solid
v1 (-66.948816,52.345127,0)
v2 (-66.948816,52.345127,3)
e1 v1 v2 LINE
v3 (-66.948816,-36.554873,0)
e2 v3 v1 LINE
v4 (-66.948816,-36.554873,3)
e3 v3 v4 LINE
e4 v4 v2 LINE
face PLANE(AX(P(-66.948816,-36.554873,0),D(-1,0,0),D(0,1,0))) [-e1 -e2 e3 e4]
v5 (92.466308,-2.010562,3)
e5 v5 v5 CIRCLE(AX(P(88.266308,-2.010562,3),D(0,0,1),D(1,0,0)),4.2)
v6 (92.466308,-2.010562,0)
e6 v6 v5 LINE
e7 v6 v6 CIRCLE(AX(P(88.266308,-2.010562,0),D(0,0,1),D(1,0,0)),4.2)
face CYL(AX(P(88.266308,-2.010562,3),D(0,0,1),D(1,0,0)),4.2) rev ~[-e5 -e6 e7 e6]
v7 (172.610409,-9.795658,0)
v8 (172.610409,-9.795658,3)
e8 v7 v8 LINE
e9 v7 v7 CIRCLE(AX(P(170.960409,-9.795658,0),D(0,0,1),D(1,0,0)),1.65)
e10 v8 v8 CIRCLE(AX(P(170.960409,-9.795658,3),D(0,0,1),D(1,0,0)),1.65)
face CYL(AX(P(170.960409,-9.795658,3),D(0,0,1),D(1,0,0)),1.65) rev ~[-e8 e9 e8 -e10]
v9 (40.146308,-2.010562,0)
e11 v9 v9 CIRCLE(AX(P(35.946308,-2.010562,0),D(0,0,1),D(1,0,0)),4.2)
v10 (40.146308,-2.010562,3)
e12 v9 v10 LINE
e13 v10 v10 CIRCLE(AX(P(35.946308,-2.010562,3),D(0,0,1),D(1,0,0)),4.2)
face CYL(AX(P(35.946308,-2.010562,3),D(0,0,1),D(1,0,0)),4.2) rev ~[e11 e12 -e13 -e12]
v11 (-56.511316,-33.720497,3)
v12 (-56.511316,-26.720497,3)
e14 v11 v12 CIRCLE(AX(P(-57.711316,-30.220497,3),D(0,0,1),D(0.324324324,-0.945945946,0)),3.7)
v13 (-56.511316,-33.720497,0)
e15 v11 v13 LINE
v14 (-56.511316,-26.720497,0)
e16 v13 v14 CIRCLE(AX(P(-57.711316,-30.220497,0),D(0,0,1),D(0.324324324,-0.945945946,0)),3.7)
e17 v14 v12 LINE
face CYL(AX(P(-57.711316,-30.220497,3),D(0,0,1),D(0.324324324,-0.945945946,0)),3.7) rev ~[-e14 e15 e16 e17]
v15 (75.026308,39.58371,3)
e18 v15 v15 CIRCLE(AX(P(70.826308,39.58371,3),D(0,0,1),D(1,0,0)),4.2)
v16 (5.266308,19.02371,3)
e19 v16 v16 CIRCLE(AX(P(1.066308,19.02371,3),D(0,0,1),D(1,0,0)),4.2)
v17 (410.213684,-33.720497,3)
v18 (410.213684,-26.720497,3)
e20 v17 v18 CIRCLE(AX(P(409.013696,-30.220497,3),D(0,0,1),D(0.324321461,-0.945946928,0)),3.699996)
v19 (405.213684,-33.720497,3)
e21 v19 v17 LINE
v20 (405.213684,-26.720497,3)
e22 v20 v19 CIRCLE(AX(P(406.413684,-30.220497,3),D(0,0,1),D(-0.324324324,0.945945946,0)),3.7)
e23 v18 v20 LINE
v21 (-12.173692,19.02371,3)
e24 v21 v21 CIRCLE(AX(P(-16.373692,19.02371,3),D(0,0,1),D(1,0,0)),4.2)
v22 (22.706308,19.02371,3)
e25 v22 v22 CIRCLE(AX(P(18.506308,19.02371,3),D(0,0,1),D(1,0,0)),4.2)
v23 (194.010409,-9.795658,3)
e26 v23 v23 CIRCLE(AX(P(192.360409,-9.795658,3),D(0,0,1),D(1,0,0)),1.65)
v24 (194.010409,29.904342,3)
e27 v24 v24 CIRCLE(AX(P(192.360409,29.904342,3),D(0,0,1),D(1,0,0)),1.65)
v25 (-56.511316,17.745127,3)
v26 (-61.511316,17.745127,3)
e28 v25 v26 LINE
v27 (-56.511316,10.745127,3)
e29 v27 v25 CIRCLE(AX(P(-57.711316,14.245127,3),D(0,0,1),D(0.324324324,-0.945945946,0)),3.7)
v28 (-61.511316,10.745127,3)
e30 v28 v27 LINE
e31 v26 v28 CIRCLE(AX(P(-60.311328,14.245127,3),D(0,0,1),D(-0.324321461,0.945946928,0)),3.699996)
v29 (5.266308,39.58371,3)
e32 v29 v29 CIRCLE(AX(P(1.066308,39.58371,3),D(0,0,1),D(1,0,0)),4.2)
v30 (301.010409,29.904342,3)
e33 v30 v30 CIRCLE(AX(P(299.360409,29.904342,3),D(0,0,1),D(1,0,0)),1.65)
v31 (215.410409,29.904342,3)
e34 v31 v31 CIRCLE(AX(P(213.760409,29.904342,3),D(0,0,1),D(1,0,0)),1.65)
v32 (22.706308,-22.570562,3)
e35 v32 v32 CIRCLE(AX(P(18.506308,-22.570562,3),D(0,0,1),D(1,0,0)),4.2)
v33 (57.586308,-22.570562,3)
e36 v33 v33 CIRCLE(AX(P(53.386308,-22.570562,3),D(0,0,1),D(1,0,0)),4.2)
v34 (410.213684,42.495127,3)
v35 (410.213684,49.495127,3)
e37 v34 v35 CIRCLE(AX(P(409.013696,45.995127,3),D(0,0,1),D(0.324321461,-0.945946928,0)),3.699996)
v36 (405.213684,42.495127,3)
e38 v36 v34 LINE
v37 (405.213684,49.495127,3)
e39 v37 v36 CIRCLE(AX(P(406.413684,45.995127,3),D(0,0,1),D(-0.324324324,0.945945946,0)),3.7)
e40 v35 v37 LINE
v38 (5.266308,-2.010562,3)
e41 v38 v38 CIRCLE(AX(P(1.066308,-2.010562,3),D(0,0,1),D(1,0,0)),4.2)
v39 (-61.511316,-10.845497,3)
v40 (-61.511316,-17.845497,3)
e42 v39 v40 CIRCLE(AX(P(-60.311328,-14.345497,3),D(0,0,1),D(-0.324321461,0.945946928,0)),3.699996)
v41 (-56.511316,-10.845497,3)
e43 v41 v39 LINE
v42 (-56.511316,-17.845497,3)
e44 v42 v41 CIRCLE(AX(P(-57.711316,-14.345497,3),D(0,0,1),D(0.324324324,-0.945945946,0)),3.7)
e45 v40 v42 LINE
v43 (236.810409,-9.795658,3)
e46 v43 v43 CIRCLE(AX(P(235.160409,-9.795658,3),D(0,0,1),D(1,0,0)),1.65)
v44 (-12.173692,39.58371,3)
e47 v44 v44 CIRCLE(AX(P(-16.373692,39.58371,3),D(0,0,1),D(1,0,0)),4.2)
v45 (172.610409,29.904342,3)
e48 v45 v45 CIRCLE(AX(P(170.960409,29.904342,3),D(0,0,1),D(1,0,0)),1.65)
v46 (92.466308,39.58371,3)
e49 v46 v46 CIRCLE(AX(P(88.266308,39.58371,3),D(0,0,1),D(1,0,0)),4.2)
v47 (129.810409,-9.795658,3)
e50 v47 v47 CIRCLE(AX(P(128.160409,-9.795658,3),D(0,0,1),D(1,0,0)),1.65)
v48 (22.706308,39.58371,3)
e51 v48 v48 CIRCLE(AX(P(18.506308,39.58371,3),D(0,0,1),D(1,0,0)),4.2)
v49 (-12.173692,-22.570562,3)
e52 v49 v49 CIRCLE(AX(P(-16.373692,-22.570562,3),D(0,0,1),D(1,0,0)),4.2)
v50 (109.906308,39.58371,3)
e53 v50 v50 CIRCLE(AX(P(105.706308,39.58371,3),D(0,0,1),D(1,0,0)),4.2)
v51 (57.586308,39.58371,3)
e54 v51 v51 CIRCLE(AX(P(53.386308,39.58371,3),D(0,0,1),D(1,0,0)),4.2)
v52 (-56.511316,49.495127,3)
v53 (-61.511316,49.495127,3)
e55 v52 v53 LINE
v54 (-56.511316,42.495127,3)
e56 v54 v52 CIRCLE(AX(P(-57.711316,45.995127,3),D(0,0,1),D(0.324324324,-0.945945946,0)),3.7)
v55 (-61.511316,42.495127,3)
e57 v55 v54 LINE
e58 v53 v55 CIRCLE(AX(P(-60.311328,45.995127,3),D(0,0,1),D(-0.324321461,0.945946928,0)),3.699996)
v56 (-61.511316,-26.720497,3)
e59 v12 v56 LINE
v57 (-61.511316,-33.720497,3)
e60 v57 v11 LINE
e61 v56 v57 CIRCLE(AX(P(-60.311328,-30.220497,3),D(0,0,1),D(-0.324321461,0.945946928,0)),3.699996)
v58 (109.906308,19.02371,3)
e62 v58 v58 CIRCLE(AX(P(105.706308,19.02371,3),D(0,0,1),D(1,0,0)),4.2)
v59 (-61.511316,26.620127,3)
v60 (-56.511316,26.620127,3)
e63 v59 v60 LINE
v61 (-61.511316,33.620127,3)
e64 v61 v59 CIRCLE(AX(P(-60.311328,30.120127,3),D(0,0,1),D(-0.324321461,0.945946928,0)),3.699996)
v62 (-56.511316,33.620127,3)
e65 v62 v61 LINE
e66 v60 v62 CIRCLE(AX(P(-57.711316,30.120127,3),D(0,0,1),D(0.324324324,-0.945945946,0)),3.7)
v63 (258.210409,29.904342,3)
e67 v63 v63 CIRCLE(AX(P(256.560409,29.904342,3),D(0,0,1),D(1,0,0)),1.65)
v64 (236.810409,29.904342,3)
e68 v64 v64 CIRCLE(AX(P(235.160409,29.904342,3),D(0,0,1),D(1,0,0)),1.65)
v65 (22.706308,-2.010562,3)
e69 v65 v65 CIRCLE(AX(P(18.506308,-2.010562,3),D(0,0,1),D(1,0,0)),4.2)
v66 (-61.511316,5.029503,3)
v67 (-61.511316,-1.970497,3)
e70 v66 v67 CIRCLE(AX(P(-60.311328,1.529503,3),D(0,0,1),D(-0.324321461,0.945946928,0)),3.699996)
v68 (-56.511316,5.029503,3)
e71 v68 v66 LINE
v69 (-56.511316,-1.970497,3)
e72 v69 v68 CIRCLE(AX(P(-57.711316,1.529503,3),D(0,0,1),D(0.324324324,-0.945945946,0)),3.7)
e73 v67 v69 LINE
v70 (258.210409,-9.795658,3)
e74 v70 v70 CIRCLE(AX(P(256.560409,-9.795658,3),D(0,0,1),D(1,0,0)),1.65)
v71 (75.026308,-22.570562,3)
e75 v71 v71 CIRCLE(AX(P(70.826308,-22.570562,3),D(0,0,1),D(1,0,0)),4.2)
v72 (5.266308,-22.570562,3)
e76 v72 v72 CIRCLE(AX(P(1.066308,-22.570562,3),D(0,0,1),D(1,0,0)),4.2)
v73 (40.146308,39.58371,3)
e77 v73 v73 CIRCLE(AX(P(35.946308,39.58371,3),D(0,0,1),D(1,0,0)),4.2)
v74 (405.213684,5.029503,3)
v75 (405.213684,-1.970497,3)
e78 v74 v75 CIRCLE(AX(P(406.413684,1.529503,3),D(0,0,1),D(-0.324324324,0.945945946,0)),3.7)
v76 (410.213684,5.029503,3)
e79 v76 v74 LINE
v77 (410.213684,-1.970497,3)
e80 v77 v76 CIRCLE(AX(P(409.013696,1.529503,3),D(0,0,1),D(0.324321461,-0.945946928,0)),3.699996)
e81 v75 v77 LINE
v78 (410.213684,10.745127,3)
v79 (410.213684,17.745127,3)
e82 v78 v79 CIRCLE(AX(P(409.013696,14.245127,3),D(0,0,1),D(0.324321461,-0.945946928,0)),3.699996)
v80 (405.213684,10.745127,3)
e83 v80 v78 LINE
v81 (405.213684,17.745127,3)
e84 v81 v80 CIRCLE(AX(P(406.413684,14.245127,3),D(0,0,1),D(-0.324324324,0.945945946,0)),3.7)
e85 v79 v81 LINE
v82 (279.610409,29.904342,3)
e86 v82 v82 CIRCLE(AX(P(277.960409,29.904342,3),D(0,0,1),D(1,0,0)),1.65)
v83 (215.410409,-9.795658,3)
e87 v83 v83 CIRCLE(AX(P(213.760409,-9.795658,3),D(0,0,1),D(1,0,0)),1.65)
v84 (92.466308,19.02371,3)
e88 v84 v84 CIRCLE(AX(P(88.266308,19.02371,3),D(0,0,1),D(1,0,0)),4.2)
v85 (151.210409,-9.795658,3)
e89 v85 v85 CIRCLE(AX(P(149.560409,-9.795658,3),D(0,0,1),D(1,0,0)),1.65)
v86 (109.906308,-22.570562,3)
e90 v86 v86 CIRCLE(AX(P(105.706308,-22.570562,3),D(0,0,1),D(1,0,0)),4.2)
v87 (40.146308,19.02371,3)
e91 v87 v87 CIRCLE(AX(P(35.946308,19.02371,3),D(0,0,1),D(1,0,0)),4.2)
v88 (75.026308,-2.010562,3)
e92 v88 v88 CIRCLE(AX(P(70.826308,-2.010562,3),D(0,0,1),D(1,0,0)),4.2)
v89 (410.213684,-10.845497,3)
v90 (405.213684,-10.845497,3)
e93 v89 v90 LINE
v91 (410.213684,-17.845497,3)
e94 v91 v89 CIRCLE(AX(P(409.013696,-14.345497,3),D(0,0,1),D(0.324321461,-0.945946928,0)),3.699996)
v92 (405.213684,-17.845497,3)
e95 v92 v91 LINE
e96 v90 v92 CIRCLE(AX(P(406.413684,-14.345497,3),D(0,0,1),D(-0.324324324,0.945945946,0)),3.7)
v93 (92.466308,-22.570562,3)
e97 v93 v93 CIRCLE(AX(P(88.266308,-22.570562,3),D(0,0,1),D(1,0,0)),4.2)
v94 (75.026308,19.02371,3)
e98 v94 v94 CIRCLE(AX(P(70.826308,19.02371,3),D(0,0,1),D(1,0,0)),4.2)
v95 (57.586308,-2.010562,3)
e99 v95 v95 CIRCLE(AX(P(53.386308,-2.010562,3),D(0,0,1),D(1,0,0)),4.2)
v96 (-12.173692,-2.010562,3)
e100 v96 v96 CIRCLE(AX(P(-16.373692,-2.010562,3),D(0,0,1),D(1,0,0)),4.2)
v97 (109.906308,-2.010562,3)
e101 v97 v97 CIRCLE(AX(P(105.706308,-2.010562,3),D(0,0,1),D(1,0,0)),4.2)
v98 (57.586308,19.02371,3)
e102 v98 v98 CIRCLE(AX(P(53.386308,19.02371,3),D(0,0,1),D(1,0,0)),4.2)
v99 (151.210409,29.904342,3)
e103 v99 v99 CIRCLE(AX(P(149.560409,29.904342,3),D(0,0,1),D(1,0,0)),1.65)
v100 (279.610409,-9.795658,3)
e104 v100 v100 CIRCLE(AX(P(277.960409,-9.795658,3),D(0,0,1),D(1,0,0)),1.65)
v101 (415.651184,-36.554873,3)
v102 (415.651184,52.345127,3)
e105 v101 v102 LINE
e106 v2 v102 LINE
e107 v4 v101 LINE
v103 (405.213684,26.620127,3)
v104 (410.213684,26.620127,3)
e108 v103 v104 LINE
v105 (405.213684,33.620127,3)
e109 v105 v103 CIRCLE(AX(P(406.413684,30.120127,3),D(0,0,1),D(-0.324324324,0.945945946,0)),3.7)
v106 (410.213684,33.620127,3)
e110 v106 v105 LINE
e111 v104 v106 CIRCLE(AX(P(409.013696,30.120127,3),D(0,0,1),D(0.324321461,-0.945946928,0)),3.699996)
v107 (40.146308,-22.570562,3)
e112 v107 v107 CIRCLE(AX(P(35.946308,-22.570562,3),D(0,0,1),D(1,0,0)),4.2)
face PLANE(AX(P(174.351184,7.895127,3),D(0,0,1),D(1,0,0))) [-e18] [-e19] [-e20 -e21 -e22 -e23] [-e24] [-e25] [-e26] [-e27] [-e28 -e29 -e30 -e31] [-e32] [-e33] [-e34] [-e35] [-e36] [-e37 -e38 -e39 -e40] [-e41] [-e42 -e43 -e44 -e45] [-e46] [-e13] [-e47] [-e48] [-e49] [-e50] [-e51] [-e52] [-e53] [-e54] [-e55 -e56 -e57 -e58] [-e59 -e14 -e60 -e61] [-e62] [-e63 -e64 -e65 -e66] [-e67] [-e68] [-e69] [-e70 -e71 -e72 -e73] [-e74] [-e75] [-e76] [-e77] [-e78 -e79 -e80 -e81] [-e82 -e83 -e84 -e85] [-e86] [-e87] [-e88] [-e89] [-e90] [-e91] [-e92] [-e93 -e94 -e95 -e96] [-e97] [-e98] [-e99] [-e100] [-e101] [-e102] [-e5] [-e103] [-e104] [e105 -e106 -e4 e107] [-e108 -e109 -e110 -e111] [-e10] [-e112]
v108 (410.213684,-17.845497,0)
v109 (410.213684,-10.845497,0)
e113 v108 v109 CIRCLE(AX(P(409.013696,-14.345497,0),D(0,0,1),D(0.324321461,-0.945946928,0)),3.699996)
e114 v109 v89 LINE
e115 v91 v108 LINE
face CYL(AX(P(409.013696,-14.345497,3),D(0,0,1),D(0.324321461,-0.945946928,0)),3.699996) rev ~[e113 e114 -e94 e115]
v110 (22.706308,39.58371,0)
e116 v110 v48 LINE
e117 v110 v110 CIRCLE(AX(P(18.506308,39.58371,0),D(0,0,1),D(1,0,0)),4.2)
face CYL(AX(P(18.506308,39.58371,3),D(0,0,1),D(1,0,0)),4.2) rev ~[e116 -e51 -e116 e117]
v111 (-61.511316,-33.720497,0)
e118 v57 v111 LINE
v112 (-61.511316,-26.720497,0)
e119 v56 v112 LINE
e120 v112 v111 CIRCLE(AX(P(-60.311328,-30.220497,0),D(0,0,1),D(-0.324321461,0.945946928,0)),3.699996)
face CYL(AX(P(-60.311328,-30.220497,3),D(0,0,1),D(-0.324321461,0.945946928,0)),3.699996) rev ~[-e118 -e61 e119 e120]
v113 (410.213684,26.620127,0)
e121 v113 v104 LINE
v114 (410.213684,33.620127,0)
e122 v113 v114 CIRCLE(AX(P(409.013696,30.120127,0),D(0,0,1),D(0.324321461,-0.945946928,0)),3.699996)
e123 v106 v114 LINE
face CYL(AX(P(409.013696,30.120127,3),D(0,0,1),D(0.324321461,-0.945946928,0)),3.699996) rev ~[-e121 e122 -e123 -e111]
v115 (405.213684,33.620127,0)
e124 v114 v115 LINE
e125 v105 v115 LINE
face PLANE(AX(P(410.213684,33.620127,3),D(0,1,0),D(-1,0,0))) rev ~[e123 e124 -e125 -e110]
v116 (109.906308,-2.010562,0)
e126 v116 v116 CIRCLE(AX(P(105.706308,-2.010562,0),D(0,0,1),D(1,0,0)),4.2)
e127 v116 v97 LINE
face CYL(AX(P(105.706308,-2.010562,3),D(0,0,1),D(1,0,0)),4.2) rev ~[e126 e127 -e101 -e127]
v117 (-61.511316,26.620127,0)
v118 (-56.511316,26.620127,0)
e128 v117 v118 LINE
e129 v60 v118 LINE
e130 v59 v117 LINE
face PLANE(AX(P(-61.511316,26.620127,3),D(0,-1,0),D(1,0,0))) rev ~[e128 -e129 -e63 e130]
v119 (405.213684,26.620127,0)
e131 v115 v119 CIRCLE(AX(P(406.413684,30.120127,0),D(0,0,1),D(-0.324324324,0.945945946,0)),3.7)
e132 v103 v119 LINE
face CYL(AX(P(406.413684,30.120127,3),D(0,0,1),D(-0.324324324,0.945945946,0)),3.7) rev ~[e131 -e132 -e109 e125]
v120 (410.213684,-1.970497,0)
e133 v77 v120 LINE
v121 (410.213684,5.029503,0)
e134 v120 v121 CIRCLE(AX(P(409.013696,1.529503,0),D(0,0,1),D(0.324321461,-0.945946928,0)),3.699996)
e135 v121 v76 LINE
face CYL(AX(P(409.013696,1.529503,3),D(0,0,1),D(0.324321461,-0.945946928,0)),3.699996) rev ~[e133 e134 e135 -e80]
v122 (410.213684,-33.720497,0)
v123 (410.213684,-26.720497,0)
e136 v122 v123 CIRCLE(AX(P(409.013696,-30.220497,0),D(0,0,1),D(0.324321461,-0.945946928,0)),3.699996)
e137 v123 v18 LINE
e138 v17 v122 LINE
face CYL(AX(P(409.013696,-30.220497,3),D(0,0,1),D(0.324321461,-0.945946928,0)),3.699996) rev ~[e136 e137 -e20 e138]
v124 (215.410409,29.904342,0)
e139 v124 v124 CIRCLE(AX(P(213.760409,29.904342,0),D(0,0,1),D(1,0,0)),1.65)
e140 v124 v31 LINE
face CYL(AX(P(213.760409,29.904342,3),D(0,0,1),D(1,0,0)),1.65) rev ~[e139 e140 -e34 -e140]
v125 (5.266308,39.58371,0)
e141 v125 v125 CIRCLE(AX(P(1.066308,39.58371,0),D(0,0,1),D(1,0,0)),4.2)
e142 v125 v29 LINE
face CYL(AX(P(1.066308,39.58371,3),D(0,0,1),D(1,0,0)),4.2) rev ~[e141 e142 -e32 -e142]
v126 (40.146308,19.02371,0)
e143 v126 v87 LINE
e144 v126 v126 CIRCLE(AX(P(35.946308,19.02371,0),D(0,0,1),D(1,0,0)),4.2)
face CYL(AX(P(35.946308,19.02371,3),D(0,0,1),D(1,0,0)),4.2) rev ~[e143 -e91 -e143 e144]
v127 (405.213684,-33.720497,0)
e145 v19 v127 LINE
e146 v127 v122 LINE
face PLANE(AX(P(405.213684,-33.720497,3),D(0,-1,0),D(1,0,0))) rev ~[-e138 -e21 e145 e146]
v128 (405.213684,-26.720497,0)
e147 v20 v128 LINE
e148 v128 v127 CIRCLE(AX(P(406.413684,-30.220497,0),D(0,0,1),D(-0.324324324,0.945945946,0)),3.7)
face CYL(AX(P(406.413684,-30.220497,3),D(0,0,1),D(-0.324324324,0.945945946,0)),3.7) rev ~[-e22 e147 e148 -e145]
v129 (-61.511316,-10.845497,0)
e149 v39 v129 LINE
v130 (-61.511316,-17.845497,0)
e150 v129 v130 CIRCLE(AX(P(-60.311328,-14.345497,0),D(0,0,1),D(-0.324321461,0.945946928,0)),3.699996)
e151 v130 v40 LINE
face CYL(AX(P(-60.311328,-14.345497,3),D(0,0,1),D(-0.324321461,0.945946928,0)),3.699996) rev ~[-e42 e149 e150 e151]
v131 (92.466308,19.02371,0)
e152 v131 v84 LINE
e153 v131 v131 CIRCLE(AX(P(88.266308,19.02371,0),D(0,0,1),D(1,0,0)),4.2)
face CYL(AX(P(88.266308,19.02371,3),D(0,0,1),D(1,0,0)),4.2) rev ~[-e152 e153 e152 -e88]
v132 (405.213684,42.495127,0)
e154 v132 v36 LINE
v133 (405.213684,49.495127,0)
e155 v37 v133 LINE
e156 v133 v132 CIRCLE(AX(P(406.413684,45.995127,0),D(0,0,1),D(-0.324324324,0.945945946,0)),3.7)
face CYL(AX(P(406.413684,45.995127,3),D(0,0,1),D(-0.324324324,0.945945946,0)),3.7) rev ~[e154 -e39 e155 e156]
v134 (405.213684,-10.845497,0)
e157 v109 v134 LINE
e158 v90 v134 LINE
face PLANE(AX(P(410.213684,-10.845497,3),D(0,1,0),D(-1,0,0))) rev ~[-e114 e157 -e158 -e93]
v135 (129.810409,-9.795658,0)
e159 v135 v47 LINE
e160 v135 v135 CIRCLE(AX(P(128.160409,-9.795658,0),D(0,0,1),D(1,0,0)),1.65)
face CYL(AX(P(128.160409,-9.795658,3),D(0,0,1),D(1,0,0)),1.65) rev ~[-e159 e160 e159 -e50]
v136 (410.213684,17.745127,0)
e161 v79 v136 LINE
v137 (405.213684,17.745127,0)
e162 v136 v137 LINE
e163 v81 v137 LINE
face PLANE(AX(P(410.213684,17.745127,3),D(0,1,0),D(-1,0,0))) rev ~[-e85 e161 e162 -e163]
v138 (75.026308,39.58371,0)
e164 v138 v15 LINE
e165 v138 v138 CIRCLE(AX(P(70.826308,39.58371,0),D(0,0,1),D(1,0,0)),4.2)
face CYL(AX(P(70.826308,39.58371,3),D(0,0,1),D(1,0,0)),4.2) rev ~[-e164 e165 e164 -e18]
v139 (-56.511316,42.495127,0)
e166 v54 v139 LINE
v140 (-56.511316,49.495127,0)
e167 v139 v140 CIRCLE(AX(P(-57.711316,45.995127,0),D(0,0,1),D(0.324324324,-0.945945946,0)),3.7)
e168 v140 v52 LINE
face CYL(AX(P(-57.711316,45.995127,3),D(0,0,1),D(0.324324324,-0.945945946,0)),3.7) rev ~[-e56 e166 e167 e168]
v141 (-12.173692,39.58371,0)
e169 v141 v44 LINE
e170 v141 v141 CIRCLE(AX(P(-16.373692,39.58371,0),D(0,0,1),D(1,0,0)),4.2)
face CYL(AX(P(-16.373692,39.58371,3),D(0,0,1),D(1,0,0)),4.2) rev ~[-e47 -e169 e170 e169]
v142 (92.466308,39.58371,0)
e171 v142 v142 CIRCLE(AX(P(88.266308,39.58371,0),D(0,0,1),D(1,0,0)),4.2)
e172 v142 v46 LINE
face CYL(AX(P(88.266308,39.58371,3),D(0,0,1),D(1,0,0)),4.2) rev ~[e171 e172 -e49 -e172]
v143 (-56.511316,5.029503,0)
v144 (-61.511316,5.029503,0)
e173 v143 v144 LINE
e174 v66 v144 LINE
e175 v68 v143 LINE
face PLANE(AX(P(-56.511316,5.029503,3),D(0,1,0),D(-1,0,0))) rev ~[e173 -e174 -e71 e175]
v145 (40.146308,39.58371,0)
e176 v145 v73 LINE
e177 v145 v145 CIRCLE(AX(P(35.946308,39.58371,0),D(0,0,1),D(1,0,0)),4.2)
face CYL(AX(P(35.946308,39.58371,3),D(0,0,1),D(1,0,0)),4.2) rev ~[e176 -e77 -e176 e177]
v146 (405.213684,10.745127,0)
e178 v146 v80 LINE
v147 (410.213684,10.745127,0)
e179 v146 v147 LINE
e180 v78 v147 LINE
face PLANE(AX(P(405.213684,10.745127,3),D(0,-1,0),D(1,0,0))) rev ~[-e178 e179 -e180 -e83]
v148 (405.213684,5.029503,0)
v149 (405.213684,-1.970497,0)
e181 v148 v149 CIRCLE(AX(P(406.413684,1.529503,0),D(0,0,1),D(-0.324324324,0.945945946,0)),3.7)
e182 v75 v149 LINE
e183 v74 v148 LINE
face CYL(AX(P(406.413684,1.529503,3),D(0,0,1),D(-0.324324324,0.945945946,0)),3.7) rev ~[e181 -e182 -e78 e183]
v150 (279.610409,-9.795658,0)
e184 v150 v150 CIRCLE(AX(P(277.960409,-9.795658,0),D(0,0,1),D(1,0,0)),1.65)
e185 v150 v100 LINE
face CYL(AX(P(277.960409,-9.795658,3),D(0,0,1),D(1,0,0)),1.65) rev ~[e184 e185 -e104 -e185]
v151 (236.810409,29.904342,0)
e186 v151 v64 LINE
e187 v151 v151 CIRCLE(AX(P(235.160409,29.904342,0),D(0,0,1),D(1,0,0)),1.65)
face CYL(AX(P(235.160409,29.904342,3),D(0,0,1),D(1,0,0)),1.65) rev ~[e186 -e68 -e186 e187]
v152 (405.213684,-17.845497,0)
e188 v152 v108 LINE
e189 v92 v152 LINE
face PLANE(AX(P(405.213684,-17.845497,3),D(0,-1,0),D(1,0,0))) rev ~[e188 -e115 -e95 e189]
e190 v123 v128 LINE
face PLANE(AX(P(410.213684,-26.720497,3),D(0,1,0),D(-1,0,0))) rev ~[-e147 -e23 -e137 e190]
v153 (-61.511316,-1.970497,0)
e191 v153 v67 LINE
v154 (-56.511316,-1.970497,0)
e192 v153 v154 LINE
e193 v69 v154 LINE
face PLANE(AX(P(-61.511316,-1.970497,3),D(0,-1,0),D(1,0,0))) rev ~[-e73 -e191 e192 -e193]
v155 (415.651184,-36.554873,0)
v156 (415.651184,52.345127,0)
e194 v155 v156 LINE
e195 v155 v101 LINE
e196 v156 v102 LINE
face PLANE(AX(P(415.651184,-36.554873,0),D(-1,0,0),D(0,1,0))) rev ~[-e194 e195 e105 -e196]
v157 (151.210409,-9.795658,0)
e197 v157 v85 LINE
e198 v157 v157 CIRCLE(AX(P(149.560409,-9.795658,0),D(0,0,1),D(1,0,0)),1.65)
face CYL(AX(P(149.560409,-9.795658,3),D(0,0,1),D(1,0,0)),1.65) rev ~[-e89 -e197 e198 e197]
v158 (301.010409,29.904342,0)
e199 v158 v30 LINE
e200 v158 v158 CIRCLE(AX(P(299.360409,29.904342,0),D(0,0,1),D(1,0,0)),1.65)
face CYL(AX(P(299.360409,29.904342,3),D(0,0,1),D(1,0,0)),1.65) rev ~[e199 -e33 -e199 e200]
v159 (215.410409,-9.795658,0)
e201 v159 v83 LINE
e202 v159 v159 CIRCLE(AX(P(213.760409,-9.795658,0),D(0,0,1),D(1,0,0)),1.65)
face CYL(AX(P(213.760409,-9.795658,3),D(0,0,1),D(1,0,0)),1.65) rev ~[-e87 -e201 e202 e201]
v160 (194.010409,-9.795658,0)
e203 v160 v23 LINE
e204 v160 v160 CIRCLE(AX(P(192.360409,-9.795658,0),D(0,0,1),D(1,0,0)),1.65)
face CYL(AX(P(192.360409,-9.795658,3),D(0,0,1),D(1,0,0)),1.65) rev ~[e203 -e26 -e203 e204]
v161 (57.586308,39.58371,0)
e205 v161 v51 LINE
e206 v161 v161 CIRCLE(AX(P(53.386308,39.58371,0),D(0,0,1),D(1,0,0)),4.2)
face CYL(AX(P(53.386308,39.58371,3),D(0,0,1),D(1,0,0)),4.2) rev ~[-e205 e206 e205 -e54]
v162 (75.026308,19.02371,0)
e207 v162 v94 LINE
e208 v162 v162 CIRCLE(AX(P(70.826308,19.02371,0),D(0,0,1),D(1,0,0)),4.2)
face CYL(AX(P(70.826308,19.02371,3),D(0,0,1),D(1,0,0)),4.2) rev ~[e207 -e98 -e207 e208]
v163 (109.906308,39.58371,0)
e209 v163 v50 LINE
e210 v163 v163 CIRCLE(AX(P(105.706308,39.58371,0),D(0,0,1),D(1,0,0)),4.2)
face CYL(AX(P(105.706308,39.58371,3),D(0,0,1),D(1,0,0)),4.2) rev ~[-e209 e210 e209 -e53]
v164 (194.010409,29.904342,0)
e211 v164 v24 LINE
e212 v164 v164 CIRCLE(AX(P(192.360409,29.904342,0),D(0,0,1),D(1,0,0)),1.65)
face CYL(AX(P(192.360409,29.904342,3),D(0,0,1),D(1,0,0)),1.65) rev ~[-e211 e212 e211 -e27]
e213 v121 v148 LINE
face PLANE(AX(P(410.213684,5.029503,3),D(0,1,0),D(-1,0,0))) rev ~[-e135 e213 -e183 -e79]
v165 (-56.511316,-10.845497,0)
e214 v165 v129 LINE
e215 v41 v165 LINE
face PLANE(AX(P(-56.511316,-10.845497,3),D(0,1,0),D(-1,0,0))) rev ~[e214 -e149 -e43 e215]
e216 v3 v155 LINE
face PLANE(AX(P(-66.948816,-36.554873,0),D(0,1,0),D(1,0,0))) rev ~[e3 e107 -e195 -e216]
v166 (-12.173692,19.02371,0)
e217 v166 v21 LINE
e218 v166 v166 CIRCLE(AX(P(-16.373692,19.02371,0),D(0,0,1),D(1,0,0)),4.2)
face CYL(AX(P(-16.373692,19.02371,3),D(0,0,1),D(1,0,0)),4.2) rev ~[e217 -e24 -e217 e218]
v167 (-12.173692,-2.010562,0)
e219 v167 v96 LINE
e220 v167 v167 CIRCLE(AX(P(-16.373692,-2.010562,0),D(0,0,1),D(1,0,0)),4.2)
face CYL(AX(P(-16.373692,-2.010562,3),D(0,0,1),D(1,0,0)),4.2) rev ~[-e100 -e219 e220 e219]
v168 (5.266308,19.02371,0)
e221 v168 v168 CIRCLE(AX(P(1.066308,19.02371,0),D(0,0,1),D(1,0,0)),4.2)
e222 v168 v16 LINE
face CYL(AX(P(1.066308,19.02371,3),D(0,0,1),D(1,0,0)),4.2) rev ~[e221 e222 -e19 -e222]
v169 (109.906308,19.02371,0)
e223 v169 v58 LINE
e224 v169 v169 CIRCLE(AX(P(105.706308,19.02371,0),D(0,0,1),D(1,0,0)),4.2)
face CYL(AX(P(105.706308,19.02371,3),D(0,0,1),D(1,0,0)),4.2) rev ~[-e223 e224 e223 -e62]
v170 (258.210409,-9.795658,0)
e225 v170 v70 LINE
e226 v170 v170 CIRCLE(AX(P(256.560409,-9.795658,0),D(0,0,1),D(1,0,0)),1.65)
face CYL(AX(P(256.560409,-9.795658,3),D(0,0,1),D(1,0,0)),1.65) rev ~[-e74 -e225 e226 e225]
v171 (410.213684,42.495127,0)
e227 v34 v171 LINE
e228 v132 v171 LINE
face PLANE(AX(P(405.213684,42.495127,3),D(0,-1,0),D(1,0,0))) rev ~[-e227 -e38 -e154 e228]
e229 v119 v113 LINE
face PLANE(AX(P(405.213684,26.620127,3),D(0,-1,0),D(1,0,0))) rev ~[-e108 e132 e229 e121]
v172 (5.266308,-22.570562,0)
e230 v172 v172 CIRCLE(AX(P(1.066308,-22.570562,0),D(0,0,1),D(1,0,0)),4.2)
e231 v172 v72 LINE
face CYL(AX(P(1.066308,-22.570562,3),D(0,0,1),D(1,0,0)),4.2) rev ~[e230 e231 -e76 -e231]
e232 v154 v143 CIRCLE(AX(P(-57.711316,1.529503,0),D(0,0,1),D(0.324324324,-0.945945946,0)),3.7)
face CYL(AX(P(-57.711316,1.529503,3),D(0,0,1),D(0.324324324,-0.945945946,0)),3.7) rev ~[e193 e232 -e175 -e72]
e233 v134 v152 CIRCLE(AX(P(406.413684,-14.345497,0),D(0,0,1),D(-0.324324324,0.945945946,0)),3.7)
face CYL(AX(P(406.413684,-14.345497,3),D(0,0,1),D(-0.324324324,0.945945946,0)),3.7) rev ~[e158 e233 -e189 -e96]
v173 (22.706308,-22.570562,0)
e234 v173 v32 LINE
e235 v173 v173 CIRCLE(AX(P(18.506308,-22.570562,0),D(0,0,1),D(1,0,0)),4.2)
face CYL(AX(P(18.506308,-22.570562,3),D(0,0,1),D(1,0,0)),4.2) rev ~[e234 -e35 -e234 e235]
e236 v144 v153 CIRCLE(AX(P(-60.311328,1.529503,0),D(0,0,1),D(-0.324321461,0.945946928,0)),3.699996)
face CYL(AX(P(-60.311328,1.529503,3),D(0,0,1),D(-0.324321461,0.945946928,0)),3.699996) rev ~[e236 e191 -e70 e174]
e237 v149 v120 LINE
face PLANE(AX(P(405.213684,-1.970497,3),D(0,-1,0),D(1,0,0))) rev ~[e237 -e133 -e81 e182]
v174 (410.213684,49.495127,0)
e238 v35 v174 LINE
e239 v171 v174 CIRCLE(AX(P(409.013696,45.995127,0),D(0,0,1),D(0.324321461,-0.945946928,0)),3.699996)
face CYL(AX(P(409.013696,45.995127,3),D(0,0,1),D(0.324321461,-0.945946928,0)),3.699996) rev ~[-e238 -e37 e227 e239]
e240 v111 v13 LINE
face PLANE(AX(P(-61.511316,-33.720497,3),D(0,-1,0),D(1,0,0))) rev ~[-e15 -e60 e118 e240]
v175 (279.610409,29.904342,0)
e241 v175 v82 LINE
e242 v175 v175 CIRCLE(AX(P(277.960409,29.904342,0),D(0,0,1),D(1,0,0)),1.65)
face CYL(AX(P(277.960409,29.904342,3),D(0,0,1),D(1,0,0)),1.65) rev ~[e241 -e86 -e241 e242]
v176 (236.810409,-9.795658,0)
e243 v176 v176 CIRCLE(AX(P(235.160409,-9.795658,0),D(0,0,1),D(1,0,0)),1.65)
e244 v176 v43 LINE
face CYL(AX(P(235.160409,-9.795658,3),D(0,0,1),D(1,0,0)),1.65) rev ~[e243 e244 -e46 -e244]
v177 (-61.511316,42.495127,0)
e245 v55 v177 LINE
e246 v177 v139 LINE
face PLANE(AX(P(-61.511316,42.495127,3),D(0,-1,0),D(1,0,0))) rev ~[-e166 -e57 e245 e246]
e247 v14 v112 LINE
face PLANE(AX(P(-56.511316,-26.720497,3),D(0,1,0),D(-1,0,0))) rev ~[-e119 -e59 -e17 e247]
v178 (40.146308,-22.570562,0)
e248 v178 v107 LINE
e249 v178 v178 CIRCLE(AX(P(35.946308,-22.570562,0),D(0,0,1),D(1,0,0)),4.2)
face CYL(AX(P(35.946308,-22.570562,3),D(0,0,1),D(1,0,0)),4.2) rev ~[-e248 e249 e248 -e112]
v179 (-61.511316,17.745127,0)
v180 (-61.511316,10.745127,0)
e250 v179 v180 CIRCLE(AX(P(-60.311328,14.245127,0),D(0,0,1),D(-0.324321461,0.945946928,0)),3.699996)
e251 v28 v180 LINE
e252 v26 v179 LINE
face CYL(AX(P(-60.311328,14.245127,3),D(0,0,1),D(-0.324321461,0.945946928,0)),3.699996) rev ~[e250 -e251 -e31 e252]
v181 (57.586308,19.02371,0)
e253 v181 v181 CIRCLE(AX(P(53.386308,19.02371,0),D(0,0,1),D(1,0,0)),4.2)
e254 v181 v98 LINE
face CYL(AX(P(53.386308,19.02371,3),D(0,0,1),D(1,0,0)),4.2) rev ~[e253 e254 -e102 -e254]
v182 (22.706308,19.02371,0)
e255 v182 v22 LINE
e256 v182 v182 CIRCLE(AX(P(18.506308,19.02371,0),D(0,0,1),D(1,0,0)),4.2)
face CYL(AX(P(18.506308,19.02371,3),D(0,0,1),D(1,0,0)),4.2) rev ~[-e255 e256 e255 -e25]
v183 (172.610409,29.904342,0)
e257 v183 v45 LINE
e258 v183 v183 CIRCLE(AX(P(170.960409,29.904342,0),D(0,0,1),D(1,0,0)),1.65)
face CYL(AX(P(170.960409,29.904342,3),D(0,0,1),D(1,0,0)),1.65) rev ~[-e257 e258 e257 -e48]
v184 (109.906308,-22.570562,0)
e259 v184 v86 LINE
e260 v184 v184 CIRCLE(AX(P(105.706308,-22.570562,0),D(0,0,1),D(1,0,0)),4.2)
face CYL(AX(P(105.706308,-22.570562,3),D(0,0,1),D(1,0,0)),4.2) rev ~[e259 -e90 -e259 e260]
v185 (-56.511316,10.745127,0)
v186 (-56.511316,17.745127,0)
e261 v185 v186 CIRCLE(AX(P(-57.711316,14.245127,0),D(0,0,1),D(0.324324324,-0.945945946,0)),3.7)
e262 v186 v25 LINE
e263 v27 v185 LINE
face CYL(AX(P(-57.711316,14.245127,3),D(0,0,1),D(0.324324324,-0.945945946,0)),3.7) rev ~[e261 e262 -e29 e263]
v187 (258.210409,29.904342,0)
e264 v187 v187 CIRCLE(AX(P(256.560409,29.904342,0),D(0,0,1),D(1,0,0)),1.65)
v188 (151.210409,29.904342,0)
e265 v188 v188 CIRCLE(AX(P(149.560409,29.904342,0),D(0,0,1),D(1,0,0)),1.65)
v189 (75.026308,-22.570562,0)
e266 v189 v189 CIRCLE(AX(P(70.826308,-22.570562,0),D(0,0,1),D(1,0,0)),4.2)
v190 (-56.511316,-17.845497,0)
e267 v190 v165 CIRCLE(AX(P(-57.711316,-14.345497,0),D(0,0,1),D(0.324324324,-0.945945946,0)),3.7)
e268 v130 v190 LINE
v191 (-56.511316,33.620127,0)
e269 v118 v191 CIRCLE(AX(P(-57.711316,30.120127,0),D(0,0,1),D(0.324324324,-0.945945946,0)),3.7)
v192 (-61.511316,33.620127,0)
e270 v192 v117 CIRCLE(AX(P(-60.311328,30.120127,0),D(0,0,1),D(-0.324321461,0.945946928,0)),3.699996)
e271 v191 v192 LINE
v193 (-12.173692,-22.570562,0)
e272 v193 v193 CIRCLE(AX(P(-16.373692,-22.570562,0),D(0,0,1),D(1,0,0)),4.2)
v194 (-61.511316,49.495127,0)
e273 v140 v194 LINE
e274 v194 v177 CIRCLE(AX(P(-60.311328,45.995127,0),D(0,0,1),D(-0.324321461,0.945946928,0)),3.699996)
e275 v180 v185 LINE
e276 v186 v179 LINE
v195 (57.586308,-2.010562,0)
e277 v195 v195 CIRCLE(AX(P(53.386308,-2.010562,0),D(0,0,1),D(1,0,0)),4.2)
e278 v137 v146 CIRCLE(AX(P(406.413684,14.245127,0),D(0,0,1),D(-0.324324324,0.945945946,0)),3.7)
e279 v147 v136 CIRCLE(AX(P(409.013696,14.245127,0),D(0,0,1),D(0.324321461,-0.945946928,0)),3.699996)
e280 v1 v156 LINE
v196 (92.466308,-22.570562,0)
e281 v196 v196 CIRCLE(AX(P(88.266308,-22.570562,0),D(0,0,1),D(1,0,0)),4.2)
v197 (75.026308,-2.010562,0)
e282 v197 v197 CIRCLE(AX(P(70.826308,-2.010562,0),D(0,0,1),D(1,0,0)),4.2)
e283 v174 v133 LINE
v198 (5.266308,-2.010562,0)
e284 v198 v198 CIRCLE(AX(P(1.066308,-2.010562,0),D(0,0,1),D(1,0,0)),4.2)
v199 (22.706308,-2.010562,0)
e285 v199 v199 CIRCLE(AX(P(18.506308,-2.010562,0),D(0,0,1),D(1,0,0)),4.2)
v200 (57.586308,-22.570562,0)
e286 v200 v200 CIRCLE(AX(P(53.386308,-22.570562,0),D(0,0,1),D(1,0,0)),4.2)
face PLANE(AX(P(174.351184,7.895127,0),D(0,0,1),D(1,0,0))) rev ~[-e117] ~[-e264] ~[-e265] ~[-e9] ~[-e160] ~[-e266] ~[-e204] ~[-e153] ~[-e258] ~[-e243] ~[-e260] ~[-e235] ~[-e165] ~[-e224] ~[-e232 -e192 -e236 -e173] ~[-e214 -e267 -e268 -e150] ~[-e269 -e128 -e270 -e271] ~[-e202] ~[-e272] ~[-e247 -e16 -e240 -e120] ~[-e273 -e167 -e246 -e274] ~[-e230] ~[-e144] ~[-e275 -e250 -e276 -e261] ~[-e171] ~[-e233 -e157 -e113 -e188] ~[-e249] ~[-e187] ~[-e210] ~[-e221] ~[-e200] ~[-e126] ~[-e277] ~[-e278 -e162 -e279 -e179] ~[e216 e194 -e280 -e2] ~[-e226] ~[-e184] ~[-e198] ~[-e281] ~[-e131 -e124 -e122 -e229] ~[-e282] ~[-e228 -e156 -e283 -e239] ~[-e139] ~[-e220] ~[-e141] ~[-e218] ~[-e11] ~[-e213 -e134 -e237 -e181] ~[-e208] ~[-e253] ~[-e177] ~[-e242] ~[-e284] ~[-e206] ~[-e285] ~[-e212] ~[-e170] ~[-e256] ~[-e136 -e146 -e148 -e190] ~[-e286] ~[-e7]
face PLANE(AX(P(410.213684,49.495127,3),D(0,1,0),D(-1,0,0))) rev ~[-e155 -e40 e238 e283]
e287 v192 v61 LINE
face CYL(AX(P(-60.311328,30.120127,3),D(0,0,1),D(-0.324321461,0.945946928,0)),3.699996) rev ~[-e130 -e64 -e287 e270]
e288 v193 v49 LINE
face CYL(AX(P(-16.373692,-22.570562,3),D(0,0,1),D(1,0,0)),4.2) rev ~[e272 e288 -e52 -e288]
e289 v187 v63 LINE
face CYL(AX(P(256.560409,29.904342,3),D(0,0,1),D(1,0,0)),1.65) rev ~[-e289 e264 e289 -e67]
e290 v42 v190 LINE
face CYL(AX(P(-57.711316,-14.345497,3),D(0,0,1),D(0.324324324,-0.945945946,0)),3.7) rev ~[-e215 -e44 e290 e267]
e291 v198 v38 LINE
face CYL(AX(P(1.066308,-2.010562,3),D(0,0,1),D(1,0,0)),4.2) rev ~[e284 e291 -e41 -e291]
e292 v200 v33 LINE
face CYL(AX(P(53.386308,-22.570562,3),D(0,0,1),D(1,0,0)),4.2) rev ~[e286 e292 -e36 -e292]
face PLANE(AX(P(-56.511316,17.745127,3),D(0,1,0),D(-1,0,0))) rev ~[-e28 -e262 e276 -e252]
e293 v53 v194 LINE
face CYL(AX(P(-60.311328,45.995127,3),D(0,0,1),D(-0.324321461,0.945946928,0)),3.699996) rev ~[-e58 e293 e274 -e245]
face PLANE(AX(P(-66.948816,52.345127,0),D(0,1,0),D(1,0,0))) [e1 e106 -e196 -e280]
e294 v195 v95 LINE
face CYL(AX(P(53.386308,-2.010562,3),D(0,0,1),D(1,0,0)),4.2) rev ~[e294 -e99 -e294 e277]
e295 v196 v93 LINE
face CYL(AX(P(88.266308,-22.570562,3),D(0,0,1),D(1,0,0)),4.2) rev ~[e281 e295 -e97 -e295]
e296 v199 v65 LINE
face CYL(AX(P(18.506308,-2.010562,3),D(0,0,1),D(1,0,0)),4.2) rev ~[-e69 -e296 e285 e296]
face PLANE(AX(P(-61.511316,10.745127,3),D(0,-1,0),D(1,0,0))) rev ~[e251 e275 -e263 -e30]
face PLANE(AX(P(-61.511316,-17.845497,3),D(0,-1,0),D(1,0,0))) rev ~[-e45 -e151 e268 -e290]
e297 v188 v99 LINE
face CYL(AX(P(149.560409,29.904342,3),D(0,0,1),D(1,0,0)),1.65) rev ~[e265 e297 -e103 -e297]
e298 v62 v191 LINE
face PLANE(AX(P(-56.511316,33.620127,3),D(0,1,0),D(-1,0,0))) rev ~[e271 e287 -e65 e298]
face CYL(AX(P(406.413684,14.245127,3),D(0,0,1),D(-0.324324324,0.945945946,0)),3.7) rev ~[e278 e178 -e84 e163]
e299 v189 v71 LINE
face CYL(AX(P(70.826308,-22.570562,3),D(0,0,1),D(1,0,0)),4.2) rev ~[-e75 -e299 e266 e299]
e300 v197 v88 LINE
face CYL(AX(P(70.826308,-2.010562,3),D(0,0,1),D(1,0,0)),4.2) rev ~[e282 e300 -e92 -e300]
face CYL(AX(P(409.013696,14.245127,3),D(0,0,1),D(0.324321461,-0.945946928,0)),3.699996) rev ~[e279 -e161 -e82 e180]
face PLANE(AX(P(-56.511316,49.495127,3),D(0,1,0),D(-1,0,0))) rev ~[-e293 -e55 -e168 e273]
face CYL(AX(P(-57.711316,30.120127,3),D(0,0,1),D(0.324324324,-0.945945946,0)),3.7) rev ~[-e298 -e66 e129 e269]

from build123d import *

# Parameters (mm, degrees)
F0_W     = 482.6
F0_H     = 88.9
F1_DEPTH = 3
F2_R     = 4.2
F2_R_2   = 1.65
F3_DEPTH = 3
F4_DEPTH = 0.5


with BuildPart() as f1:
    # F0 (on Top) → F1 (new body)
    with BuildSketch(Plane.XY):
        with Locations((174.351184, 7.895127)):
            Rectangle(F0_W, F0_H)
    extrude(amount=F1_DEPTH)

    # F2 (on face) → F3 (cut)
    with BuildSketch(Plane.XY.offset(3)):
        with BuildLine():
            Line((-56.511316, -26.720497), (-59.011316, -26.720497))
            Line((-59.011316, -26.720497), (-61.511316, -26.720497))
            ThreePointArc((-61.511316, -26.720497), (-64.011324, -30.220497), (-61.511316, -33.720497))
            Line((-61.511316, -33.720497), (-59.011316, -33.720497))
            Line((-59.011316, -33.720497), (-56.511316, -33.720497))
            ThreePointArc((-56.511316, -33.720497), (-54.011316, -30.220497), (-56.511316, -26.720497))
        make_face()
        with BuildLine():
            Line((-56.511316, 49.495127), (-59.011316, 49.495127))
            Line((-59.011316, 49.495127), (-61.511316, 49.495127))
            ThreePointArc((-61.511316, 49.495127), (-64.011324, 45.995127), (-61.511316, 42.495127))
            Line((-61.511316, 42.495127), (-59.011316, 42.495127))
            Line((-59.011316, 42.495127), (-56.511316, 42.495127))
            ThreePointArc((-56.511316, 42.495127), (-54.011316, 45.995127), (-56.511316, 49.495127))
        make_face()
        with BuildLine():
            Line((-56.511316, 17.745127), (-59.011316, 17.745127))
            Line((-59.011316, 17.745127), (-61.511316, 17.745127))
            ThreePointArc((-61.511316, 17.745127), (-64.011324, 14.245127), (-61.511316, 10.745127))
            Line((-61.511316, 10.745127), (-59.011316, 10.745127))
            Line((-59.011316, 10.745127), (-56.511316, 10.745127))
            ThreePointArc((-56.511316, 10.745127), (-54.011316, 14.245127), (-56.511316, 17.745127))
        make_face()
        with BuildLine():
            Line((-61.511316, -17.845497), (-59.011316, -17.845497))
            Line((-59.011316, -17.845497), (-56.511316, -17.845497))
            ThreePointArc((-56.511316, -17.845497), (-54.011316, -14.345497), (-56.511316, -10.845497))
            Line((-56.511316, -10.845497), (-59.011316, -10.845497))
            Line((-59.011316, -10.845497), (-61.511316, -10.845497))
            ThreePointArc((-61.511316, -10.845497), (-64.011324, -14.345497), (-61.511316, -17.845497))
        make_face()
        with BuildLine():
            Line((-61.511316, -1.970497), (-59.011316, -1.970497))
            Line((-59.011316, -1.970497), (-56.511316, -1.970497))
            ThreePointArc((-56.511316, -1.970497), (-54.011316, 1.529503), (-56.511316, 5.029503))
            Line((-56.511316, 5.029503), (-59.011316, 5.029503))
            Line((-59.011316, 5.029503), (-61.511316, 5.029503))
            ThreePointArc((-61.511316, 5.029503), (-64.011324, 1.529503), (-61.511316, -1.970497))
        make_face()
        with BuildLine():
            Line((-59.011316, 33.620127), (-61.511316, 33.620127))
            ThreePointArc((-61.511316, 33.620127), (-64.011324, 30.120127), (-61.511316, 26.620127))
            Line((-61.511316, 26.620127), (-59.011316, 26.620127))
            Line((-59.011316, 26.620127), (-56.511316, 26.620127))
            ThreePointArc((-56.511316, 26.620127), (-54.011316, 30.120127), (-56.511316, 33.620127))
            Line((-56.511316, 33.620127), (-59.011316, 33.620127))
        make_face()
        with Locations((70.826308, 39.58371)):
            Circle(F2_R)
        with Locations((1.066308, 19.02371)):
            Circle(F2_R)
        with Locations((70.826308, -22.570562)):
            Circle(F2_R)
        with Locations((1.066308, -22.570562)):
            Circle(F2_R)
        with Locations((1.066308, 39.58371)):
            Circle(F2_R)
        with Locations((70.826308, -2.010562)):
            Circle(F2_R)
        with Locations((88.266308, -22.570562)):
            Circle(F2_R)
        with Locations((35.946308, 19.02371)):
            Circle(F2_R)
        with Locations((88.266308, 19.02371)):
            Circle(F2_R)
        with Locations((18.506308, 19.02371)):
            Circle(F2_R)
        with Locations((53.386308, 19.02371)):
            Circle(F2_R)
        with Locations((105.706308, -22.570562)):
            Circle(F2_R)
        with Locations((53.386308, 39.58371)):
            Circle(F2_R)
        with Locations((-16.373692, 39.58371)):
            Circle(F2_R)
        with Locations((88.266308, 39.58371)):
            Circle(F2_R)
        with Locations((18.506308, -22.570562)):
            Circle(F2_R)
        with Locations((53.386308, -2.010562)):
            Circle(F2_R)
        with Locations((-16.373692, -22.570562)):
            Circle(F2_R)
        with Locations((88.266308, -2.010562)):
            Circle(F2_R)
        with Locations((53.386308, -22.570562)):
            Circle(F2_R)
        with Locations((35.946308, 39.58371)):
            Circle(F2_R)
        with Locations((35.946308, -2.010562)):
            Circle(F2_R)
        with Locations((105.706308, 39.58371)):
            Circle(F2_R)
        with Locations((-16.373692, 19.02371)):
            Circle(F2_R)
        with Locations((70.826308, 19.02371)):
            Circle(F2_R)
        with Locations((18.506308, -2.010562)):
            Circle(F2_R)
        with Locations((105.706308, 19.02371)):
            Circle(F2_R)
        with Locations((18.506308, 39.58371)):
            Circle(F2_R)
        with Locations((35.946308, -22.570562)):
            Circle(F2_R)
        with Locations((149.560409, -9.795658)):
            Circle(F2_R_2)
        with Locations((192.360409, -9.795658)):
            Circle(F2_R_2)
        with Locations((299.360409, 29.904342)):
            Circle(F2_R_2)
        with Locations((128.160409, -9.795658)):
            Circle(F2_R_2)
        with Locations((235.160409, -9.795658)):
            Circle(F2_R_2)
        with Locations((256.560409, 29.904342)):
            Circle(F2_R_2)
        with Locations((277.960409, 29.904342)):
            Circle(F2_R_2)
        with Locations((213.760409, 29.904342)):
            Circle(F2_R_2)
        with Locations((105.706308, -2.010562)):
            Circle(F2_R)
        with Locations((149.560409, 29.904342)):
            Circle(F2_R_2)
        with Locations((277.960409, -9.795658)):
            Circle(F2_R_2)
        with Locations((1.066308, -2.010562)):
            Circle(F2_R)
        with Locations((170.960409, 29.904342)):
            Circle(F2_R_2)
        with Locations((213.760409, -9.795658)):
            Circle(F2_R_2)
        with Locations((256.560409, -9.795658)):
            Circle(F2_R_2)
        with Locations((192.360409, 29.904342)):
            Circle(F2_R_2)
        with Locations((170.960409, -9.795658)):
            Circle(F2_R_2)
        with Locations((235.160409, 29.904342)):
            Circle(F2_R_2)
        with Locations((-16.373692, -2.010562)):
            Circle(F2_R)
        with BuildLine():
            ThreePointArc((410.213684, 26.620127), (412.713692, 30.120127), (410.213684, 33.620127))
            Line((410.213684, 33.620127), (407.713684, 33.620127))
            Line((407.713684, 33.620127), (405.213684, 33.620127))
            ThreePointArc((405.213684, 33.620127), (402.713684, 30.120127), (405.213684, 26.620127))
            Line((405.213684, 26.620127), (407.713684, 26.620127))
            Line((407.713684, 26.620127), (410.213684, 26.620127))
        make_face()
        with BuildLine():
            Line((410.213684, -10.845497), (407.713684, -10.845497))
            Line((407.713684, -10.845497), (405.213684, -10.845497))
            ThreePointArc((405.213684, -10.845497), (402.713684, -14.345497), (405.213684, -17.845497))
            Line((405.213684, -17.845497), (407.713684, -17.845497))
            Line((407.713684, -17.845497), (410.213684, -17.845497))
            ThreePointArc((410.213684, -17.845497), (412.713692, -14.345497), (410.213684, -10.845497))
        make_face()
        with BuildLine():
            Line((410.213684, 5.029503), (407.713684, 5.029503))
            Line((407.713684, 5.029503), (405.213684, 5.029503))
            ThreePointArc((405.213684, 5.029503), (402.713684, 1.529503), (405.213684, -1.970497))
            Line((405.213684, -1.970497), (407.713684, -1.970497))
            Line((407.713684, -1.970497), (410.213684, -1.970497))
            ThreePointArc((410.213684, -1.970497), (412.713692, 1.529503), (410.213684, 5.029503))
        make_face()
        with BuildLine():
            Line((405.213684, 10.745127), (407.713684, 10.745127))
            Line((407.713684, 10.745127), (410.213684, 10.745127))
            ThreePointArc((410.213684, 10.745127), (412.713692, 14.245127), (410.213684, 17.745127))
            Line((410.213684, 17.745127), (407.713684, 17.745127))
            Line((407.713684, 17.745127), (405.213684, 17.745127))
            ThreePointArc((405.213684, 17.745127), (402.713684, 14.245127), (405.213684, 10.745127))
        make_face()
        with BuildLine():
            Line((410.213684, -26.720497), (407.713684, -26.720497))
            Line((407.713684, -26.720497), (405.213684, -26.720497))
            ThreePointArc((405.213684, -26.720497), (402.713684, -30.220497), (405.213684, -33.720497))
            Line((405.213684, -33.720497), (407.713684, -33.720497))
            Line((407.713684, -33.720497), (410.213684, -33.720497))
            ThreePointArc((410.213684, -33.720497), (412.713692, -30.220497), (410.213684, -26.720497))
        make_face()
        with BuildLine():
            Line((405.213684, 42.495127), (407.713684, 42.495127))
            Line((407.713684, 42.495127), (410.213684, 42.495127))
            ThreePointArc((410.213684, 42.495127), (412.713692, 45.995127), (410.213684, 49.495127))
            Line((410.213684, 49.495127), (407.713684, 49.495127))
            Line((407.713684, 49.495127), (405.213684, 49.495127))
            ThreePointArc((405.213684, 49.495127), (402.713684, 45.995127), (405.213684, 42.495127))
        make_face()
    extrude(amount=-F3_DEPTH, mode=Mode.SUBTRACT)

    # F2 (on face) → F4 (cut)
    with BuildSketch(Plane.XY.offset(3)):
        with BuildLine():
            Line((-61.511316, -1.970497), (-59.011316, -1.970497))
            Line((-59.011316, -1.970497), (-56.511316, -1.970497))
            ThreePointArc((-56.511316, -1.970497), (-54.011316, 1.529503), (-56.511316, 5.029503))
            Line((-56.511316, 5.029503), (-59.011316, 5.029503))
            Line((-59.011316, 5.029503), (-61.511316, 5.029503))
            ThreePointArc((-61.511316, 5.029503), (-64.011324, 1.529503), (-61.511316, -1.970497))
        make_face()
        with BuildLine():
            Line((-61.511316, -17.845497), (-59.011316, -17.845497))
            Line((-59.011316, -17.845497), (-56.511316, -17.845497))
            ThreePointArc((-56.511316, -17.845497), (-54.011316, -14.345497), (-56.511316, -10.845497))
            Line((-56.511316, -10.845497), (-59.011316, -10.845497))
            Line((-59.011316, -10.845497), (-61.511316, -10.845497))
            ThreePointArc((-61.511316, -10.845497), (-64.011324, -14.345497), (-61.511316, -17.845497))
        make_face()
        with BuildLine():
            Line((-56.511316, 49.495127), (-59.011316, 49.495127))
            Line((-59.011316, 49.495127), (-61.511316, 49.495127))
            ThreePointArc((-61.511316, 49.495127), (-64.011324, 45.995127), (-61.511316, 42.495127))
            Line((-61.511316, 42.495127), (-59.011316, 42.495127))
            Line((-59.011316, 42.495127), (-56.511316, 42.495127))
            ThreePointArc((-56.511316, 42.495127), (-54.011316, 45.995127), (-56.511316, 49.495127))
        make_face()
        with BuildLine():
            Line((-59.011316, 33.620127), (-61.511316, 33.620127))
            ThreePointArc((-61.511316, 33.620127), (-64.011324, 30.120127), (-61.511316, 26.620127))
            Line((-61.511316, 26.620127), (-59.011316, 26.620127))
            Line((-59.011316, 26.620127), (-56.511316, 26.620127))
            ThreePointArc((-56.511316, 26.620127), (-54.011316, 30.120127), (-56.511316, 33.620127))
            Line((-56.511316, 33.620127), (-59.011316, 33.620127))
        make_face()
        with BuildLine():
            Line((-56.511316, 17.745127), (-59.011316, 17.745127))
            Line((-59.011316, 17.745127), (-61.511316, 17.745127))
            ThreePointArc((-61.511316, 17.745127), (-64.011324, 14.245127), (-61.511316, 10.745127))
            Line((-61.511316, 10.745127), (-59.011316, 10.745127))
            Line((-59.011316, 10.745127), (-56.511316, 10.745127))
            ThreePointArc((-56.511316, 10.745127), (-54.011316, 14.245127), (-56.511316, 17.745127))
        make_face()
        with BuildLine():
            Line((-56.511316, -26.720497), (-59.011316, -26.720497))
            Line((-59.011316, -26.720497), (-61.511316, -26.720497))
            ThreePointArc((-61.511316, -26.720497), (-64.011324, -30.220497), (-61.511316, -33.720497))
            Line((-61.511316, -33.720497), (-59.011316, -33.720497))
            Line((-59.011316, -33.720497), (-56.511316, -33.720497))
            ThreePointArc((-56.511316, -33.720497), (-54.011316, -30.220497), (-56.511316, -26.720497))
        make_face()
        with Locations((170.960409, 29.904342)):
            Circle(F2_R_2)
        with Locations((192.360409, -9.795658)):
            Circle(F2_R_2)
        with Locations((256.560409, -9.795658)):
            Circle(F2_R_2)
        with Locations((170.960409, -9.795658)):
            Circle(F2_R_2)
        with Locations((299.360409, 29.904342)):
            Circle(F2_R_2)
        with Locations((149.560409, -9.795658)):
            Circle(F2_R_2)
        with Locations((128.160409, -9.795658)):
            Circle(F2_R_2)
        with Locations((277.960409, 29.904342)):
            Circle(F2_R_2)
        with Locations((192.360409, 29.904342)):
            Circle(F2_R_2)
        with Locations((213.760409, 29.904342)):
            Circle(F2_R_2)
        with Locations((213.760409, -9.795658)):
            Circle(F2_R_2)
        with Locations((235.160409, -9.795658)):
            Circle(F2_R_2)
        with Locations((235.160409, 29.904342)):
            Circle(F2_R_2)
        with Locations((149.560409, 29.904342)):
            Circle(F2_R_2)
        with Locations((256.560409, 29.904342)):
            Circle(F2_R_2)
        with Locations((277.960409, -9.795658)):
            Circle(F2_R_2)
        with Locations((35.946308, 19.02371)):
            Circle(F2_R)
        with Locations((53.386308, 39.58371)):
            Circle(F2_R)
        with Locations((-16.373692, -2.010562)):
            Circle(F2_R)
        with Locations((-16.373692, 39.58371)):
            Circle(F2_R)
        with Locations((-16.373692, -22.570562)):
            Circle(F2_R)
        with Locations((1.066308, -22.570562)):
            Circle(F2_R)
        with Locations((88.266308, 19.02371)):
            Circle(F2_R)
        with Locations((35.946308, 39.58371)):
            Circle(F2_R)
        with Locations((1.066308, 19.02371)):
            Circle(F2_R)
        with Locations((35.946308, -22.570562)):
            Circle(F2_R)
        with Locations((70.826308, 39.58371)):
            Circle(F2_R)
        with Locations((-16.373692, 19.02371)):
            Circle(F2_R)
        with Locations((70.826308, 19.02371)):
            Circle(F2_R)
        with Locations((105.706308, 19.02371)):
            Circle(F2_R)
        with Locations((88.266308, 39.58371)):
            Circle(F2_R)
        with Locations((105.706308, -22.570562)):
            Circle(F2_R)
        with Locations((88.266308, -22.570562)):
            Circle(F2_R)
        with Locations((53.386308, -22.570562)):
            Circle(F2_R)
        with Locations((18.506308, 19.02371)):
            Circle(F2_R)
        with Locations((70.826308, -22.570562)):
            Circle(F2_R)
        with Locations((88.266308, -2.010562)):
            Circle(F2_R)
        with Locations((105.706308, -2.010562)):
            Circle(F2_R)
        with Locations((1.066308, 39.58371)):
            Circle(F2_R)
        with Locations((53.386308, -2.010562)):
            Circle(F2_R)
        with Locations((70.826308, -2.010562)):
            Circle(F2_R)
        with Locations((18.506308, 39.58371)):
            Circle(F2_R)
        with Locations((105.706308, 39.58371)):
            Circle(F2_R)
        with Locations((35.946308, -2.010562)):
            Circle(F2_R)
        with Locations((18.506308, -2.010562)):
            Circle(F2_R)
        with Locations((1.066308, -2.010562)):
            Circle(F2_R)
        with Locations((18.506308, -22.570562)):
            Circle(F2_R)
        with Locations((53.386308, 19.02371)):
            Circle(F2_R)
        with BuildLine():
            Line((410.213684, 5.029503), (407.713684, 5.029503))
            Line((407.713684, 5.029503), (405.213684, 5.029503))
            ThreePointArc((405.213684, 5.029503), (402.713684, 1.529503), (405.213684, -1.970497))
            Line((405.213684, -1.970497), (407.713684, -1.970497))
            Line((407.713684, -1.970497), (410.213684, -1.970497))
            ThreePointArc((410.213684, -1.970497), (412.713692, 1.529503), (410.213684, 5.029503))
        make_face()
        with BuildLine():
            Line((410.213684, -10.845497), (407.713684, -10.845497))
            Line((407.713684, -10.845497), (405.213684, -10.845497))
            ThreePointArc((405.213684, -10.845497), (402.713684, -14.345497), (405.213684, -17.845497))
            Line((405.213684, -17.845497), (407.713684, -17.845497))
            Line((407.713684, -17.845497), (410.213684, -17.845497))
            ThreePointArc((410.213684, -17.845497), (412.713692, -14.345497), (410.213684, -10.845497))
        make_face()
        with BuildLine():
            Line((410.213684, -26.720497), (407.713684, -26.720497))
            Line((407.713684, -26.720497), (405.213684, -26.720497))
            ThreePointArc((405.213684, -26.720497), (402.713684, -30.220497), (405.213684, -33.720497))
            Line((405.213684, -33.720497), (407.713684, -33.720497))
            Line((407.713684, -33.720497), (410.213684, -33.720497))
            ThreePointArc((410.213684, -33.720497), (412.713692, -30.220497), (410.213684, -26.720497))
        make_face()
        with BuildLine():
            ThreePointArc((410.213684, 26.620127), (412.713692, 30.120127), (410.213684, 33.620127))
            Line((410.213684, 33.620127), (407.713684, 33.620127))
            Line((407.713684, 33.620127), (405.213684, 33.620127))
            ThreePointArc((405.213684, 33.620127), (402.713684, 30.120127), (405.213684, 26.620127))
            Line((405.213684, 26.620127), (407.713684, 26.620127))
            Line((407.713684, 26.620127), (410.213684, 26.620127))
        make_face()
        with BuildLine():
            Line((405.213684, 42.495127), (407.713684, 42.495127))
            Line((407.713684, 42.495127), (410.213684, 42.495127))
            ThreePointArc((410.213684, 42.495127), (412.713692, 45.995127), (410.213684, 49.495127))
            Line((410.213684, 49.495127), (407.713684, 49.495127))
            Line((407.713684, 49.495127), (405.213684, 49.495127))
            ThreePointArc((405.213684, 49.495127), (402.713684, 45.995127), (405.213684, 42.495127))
        make_face()
        with BuildLine():
            Line((405.213684, 10.745127), (407.713684, 10.745127))
            Line((407.713684, 10.745127), (410.213684, 10.745127))
            ThreePointArc((410.213684, 10.745127), (412.713692, 14.245127), (410.213684, 17.745127))
            Line((410.213684, 17.745127), (407.713684, 17.745127))
            Line((407.713684, 17.745127), (405.213684, 17.745127))
            ThreePointArc((405.213684, 17.745127), (402.713684, 14.245127), (405.213684, 10.745127))
        make_face()
    extrude(amount=-F4_DEPTH, mode=Mode.SUBTRACT)


solid = f1.part
